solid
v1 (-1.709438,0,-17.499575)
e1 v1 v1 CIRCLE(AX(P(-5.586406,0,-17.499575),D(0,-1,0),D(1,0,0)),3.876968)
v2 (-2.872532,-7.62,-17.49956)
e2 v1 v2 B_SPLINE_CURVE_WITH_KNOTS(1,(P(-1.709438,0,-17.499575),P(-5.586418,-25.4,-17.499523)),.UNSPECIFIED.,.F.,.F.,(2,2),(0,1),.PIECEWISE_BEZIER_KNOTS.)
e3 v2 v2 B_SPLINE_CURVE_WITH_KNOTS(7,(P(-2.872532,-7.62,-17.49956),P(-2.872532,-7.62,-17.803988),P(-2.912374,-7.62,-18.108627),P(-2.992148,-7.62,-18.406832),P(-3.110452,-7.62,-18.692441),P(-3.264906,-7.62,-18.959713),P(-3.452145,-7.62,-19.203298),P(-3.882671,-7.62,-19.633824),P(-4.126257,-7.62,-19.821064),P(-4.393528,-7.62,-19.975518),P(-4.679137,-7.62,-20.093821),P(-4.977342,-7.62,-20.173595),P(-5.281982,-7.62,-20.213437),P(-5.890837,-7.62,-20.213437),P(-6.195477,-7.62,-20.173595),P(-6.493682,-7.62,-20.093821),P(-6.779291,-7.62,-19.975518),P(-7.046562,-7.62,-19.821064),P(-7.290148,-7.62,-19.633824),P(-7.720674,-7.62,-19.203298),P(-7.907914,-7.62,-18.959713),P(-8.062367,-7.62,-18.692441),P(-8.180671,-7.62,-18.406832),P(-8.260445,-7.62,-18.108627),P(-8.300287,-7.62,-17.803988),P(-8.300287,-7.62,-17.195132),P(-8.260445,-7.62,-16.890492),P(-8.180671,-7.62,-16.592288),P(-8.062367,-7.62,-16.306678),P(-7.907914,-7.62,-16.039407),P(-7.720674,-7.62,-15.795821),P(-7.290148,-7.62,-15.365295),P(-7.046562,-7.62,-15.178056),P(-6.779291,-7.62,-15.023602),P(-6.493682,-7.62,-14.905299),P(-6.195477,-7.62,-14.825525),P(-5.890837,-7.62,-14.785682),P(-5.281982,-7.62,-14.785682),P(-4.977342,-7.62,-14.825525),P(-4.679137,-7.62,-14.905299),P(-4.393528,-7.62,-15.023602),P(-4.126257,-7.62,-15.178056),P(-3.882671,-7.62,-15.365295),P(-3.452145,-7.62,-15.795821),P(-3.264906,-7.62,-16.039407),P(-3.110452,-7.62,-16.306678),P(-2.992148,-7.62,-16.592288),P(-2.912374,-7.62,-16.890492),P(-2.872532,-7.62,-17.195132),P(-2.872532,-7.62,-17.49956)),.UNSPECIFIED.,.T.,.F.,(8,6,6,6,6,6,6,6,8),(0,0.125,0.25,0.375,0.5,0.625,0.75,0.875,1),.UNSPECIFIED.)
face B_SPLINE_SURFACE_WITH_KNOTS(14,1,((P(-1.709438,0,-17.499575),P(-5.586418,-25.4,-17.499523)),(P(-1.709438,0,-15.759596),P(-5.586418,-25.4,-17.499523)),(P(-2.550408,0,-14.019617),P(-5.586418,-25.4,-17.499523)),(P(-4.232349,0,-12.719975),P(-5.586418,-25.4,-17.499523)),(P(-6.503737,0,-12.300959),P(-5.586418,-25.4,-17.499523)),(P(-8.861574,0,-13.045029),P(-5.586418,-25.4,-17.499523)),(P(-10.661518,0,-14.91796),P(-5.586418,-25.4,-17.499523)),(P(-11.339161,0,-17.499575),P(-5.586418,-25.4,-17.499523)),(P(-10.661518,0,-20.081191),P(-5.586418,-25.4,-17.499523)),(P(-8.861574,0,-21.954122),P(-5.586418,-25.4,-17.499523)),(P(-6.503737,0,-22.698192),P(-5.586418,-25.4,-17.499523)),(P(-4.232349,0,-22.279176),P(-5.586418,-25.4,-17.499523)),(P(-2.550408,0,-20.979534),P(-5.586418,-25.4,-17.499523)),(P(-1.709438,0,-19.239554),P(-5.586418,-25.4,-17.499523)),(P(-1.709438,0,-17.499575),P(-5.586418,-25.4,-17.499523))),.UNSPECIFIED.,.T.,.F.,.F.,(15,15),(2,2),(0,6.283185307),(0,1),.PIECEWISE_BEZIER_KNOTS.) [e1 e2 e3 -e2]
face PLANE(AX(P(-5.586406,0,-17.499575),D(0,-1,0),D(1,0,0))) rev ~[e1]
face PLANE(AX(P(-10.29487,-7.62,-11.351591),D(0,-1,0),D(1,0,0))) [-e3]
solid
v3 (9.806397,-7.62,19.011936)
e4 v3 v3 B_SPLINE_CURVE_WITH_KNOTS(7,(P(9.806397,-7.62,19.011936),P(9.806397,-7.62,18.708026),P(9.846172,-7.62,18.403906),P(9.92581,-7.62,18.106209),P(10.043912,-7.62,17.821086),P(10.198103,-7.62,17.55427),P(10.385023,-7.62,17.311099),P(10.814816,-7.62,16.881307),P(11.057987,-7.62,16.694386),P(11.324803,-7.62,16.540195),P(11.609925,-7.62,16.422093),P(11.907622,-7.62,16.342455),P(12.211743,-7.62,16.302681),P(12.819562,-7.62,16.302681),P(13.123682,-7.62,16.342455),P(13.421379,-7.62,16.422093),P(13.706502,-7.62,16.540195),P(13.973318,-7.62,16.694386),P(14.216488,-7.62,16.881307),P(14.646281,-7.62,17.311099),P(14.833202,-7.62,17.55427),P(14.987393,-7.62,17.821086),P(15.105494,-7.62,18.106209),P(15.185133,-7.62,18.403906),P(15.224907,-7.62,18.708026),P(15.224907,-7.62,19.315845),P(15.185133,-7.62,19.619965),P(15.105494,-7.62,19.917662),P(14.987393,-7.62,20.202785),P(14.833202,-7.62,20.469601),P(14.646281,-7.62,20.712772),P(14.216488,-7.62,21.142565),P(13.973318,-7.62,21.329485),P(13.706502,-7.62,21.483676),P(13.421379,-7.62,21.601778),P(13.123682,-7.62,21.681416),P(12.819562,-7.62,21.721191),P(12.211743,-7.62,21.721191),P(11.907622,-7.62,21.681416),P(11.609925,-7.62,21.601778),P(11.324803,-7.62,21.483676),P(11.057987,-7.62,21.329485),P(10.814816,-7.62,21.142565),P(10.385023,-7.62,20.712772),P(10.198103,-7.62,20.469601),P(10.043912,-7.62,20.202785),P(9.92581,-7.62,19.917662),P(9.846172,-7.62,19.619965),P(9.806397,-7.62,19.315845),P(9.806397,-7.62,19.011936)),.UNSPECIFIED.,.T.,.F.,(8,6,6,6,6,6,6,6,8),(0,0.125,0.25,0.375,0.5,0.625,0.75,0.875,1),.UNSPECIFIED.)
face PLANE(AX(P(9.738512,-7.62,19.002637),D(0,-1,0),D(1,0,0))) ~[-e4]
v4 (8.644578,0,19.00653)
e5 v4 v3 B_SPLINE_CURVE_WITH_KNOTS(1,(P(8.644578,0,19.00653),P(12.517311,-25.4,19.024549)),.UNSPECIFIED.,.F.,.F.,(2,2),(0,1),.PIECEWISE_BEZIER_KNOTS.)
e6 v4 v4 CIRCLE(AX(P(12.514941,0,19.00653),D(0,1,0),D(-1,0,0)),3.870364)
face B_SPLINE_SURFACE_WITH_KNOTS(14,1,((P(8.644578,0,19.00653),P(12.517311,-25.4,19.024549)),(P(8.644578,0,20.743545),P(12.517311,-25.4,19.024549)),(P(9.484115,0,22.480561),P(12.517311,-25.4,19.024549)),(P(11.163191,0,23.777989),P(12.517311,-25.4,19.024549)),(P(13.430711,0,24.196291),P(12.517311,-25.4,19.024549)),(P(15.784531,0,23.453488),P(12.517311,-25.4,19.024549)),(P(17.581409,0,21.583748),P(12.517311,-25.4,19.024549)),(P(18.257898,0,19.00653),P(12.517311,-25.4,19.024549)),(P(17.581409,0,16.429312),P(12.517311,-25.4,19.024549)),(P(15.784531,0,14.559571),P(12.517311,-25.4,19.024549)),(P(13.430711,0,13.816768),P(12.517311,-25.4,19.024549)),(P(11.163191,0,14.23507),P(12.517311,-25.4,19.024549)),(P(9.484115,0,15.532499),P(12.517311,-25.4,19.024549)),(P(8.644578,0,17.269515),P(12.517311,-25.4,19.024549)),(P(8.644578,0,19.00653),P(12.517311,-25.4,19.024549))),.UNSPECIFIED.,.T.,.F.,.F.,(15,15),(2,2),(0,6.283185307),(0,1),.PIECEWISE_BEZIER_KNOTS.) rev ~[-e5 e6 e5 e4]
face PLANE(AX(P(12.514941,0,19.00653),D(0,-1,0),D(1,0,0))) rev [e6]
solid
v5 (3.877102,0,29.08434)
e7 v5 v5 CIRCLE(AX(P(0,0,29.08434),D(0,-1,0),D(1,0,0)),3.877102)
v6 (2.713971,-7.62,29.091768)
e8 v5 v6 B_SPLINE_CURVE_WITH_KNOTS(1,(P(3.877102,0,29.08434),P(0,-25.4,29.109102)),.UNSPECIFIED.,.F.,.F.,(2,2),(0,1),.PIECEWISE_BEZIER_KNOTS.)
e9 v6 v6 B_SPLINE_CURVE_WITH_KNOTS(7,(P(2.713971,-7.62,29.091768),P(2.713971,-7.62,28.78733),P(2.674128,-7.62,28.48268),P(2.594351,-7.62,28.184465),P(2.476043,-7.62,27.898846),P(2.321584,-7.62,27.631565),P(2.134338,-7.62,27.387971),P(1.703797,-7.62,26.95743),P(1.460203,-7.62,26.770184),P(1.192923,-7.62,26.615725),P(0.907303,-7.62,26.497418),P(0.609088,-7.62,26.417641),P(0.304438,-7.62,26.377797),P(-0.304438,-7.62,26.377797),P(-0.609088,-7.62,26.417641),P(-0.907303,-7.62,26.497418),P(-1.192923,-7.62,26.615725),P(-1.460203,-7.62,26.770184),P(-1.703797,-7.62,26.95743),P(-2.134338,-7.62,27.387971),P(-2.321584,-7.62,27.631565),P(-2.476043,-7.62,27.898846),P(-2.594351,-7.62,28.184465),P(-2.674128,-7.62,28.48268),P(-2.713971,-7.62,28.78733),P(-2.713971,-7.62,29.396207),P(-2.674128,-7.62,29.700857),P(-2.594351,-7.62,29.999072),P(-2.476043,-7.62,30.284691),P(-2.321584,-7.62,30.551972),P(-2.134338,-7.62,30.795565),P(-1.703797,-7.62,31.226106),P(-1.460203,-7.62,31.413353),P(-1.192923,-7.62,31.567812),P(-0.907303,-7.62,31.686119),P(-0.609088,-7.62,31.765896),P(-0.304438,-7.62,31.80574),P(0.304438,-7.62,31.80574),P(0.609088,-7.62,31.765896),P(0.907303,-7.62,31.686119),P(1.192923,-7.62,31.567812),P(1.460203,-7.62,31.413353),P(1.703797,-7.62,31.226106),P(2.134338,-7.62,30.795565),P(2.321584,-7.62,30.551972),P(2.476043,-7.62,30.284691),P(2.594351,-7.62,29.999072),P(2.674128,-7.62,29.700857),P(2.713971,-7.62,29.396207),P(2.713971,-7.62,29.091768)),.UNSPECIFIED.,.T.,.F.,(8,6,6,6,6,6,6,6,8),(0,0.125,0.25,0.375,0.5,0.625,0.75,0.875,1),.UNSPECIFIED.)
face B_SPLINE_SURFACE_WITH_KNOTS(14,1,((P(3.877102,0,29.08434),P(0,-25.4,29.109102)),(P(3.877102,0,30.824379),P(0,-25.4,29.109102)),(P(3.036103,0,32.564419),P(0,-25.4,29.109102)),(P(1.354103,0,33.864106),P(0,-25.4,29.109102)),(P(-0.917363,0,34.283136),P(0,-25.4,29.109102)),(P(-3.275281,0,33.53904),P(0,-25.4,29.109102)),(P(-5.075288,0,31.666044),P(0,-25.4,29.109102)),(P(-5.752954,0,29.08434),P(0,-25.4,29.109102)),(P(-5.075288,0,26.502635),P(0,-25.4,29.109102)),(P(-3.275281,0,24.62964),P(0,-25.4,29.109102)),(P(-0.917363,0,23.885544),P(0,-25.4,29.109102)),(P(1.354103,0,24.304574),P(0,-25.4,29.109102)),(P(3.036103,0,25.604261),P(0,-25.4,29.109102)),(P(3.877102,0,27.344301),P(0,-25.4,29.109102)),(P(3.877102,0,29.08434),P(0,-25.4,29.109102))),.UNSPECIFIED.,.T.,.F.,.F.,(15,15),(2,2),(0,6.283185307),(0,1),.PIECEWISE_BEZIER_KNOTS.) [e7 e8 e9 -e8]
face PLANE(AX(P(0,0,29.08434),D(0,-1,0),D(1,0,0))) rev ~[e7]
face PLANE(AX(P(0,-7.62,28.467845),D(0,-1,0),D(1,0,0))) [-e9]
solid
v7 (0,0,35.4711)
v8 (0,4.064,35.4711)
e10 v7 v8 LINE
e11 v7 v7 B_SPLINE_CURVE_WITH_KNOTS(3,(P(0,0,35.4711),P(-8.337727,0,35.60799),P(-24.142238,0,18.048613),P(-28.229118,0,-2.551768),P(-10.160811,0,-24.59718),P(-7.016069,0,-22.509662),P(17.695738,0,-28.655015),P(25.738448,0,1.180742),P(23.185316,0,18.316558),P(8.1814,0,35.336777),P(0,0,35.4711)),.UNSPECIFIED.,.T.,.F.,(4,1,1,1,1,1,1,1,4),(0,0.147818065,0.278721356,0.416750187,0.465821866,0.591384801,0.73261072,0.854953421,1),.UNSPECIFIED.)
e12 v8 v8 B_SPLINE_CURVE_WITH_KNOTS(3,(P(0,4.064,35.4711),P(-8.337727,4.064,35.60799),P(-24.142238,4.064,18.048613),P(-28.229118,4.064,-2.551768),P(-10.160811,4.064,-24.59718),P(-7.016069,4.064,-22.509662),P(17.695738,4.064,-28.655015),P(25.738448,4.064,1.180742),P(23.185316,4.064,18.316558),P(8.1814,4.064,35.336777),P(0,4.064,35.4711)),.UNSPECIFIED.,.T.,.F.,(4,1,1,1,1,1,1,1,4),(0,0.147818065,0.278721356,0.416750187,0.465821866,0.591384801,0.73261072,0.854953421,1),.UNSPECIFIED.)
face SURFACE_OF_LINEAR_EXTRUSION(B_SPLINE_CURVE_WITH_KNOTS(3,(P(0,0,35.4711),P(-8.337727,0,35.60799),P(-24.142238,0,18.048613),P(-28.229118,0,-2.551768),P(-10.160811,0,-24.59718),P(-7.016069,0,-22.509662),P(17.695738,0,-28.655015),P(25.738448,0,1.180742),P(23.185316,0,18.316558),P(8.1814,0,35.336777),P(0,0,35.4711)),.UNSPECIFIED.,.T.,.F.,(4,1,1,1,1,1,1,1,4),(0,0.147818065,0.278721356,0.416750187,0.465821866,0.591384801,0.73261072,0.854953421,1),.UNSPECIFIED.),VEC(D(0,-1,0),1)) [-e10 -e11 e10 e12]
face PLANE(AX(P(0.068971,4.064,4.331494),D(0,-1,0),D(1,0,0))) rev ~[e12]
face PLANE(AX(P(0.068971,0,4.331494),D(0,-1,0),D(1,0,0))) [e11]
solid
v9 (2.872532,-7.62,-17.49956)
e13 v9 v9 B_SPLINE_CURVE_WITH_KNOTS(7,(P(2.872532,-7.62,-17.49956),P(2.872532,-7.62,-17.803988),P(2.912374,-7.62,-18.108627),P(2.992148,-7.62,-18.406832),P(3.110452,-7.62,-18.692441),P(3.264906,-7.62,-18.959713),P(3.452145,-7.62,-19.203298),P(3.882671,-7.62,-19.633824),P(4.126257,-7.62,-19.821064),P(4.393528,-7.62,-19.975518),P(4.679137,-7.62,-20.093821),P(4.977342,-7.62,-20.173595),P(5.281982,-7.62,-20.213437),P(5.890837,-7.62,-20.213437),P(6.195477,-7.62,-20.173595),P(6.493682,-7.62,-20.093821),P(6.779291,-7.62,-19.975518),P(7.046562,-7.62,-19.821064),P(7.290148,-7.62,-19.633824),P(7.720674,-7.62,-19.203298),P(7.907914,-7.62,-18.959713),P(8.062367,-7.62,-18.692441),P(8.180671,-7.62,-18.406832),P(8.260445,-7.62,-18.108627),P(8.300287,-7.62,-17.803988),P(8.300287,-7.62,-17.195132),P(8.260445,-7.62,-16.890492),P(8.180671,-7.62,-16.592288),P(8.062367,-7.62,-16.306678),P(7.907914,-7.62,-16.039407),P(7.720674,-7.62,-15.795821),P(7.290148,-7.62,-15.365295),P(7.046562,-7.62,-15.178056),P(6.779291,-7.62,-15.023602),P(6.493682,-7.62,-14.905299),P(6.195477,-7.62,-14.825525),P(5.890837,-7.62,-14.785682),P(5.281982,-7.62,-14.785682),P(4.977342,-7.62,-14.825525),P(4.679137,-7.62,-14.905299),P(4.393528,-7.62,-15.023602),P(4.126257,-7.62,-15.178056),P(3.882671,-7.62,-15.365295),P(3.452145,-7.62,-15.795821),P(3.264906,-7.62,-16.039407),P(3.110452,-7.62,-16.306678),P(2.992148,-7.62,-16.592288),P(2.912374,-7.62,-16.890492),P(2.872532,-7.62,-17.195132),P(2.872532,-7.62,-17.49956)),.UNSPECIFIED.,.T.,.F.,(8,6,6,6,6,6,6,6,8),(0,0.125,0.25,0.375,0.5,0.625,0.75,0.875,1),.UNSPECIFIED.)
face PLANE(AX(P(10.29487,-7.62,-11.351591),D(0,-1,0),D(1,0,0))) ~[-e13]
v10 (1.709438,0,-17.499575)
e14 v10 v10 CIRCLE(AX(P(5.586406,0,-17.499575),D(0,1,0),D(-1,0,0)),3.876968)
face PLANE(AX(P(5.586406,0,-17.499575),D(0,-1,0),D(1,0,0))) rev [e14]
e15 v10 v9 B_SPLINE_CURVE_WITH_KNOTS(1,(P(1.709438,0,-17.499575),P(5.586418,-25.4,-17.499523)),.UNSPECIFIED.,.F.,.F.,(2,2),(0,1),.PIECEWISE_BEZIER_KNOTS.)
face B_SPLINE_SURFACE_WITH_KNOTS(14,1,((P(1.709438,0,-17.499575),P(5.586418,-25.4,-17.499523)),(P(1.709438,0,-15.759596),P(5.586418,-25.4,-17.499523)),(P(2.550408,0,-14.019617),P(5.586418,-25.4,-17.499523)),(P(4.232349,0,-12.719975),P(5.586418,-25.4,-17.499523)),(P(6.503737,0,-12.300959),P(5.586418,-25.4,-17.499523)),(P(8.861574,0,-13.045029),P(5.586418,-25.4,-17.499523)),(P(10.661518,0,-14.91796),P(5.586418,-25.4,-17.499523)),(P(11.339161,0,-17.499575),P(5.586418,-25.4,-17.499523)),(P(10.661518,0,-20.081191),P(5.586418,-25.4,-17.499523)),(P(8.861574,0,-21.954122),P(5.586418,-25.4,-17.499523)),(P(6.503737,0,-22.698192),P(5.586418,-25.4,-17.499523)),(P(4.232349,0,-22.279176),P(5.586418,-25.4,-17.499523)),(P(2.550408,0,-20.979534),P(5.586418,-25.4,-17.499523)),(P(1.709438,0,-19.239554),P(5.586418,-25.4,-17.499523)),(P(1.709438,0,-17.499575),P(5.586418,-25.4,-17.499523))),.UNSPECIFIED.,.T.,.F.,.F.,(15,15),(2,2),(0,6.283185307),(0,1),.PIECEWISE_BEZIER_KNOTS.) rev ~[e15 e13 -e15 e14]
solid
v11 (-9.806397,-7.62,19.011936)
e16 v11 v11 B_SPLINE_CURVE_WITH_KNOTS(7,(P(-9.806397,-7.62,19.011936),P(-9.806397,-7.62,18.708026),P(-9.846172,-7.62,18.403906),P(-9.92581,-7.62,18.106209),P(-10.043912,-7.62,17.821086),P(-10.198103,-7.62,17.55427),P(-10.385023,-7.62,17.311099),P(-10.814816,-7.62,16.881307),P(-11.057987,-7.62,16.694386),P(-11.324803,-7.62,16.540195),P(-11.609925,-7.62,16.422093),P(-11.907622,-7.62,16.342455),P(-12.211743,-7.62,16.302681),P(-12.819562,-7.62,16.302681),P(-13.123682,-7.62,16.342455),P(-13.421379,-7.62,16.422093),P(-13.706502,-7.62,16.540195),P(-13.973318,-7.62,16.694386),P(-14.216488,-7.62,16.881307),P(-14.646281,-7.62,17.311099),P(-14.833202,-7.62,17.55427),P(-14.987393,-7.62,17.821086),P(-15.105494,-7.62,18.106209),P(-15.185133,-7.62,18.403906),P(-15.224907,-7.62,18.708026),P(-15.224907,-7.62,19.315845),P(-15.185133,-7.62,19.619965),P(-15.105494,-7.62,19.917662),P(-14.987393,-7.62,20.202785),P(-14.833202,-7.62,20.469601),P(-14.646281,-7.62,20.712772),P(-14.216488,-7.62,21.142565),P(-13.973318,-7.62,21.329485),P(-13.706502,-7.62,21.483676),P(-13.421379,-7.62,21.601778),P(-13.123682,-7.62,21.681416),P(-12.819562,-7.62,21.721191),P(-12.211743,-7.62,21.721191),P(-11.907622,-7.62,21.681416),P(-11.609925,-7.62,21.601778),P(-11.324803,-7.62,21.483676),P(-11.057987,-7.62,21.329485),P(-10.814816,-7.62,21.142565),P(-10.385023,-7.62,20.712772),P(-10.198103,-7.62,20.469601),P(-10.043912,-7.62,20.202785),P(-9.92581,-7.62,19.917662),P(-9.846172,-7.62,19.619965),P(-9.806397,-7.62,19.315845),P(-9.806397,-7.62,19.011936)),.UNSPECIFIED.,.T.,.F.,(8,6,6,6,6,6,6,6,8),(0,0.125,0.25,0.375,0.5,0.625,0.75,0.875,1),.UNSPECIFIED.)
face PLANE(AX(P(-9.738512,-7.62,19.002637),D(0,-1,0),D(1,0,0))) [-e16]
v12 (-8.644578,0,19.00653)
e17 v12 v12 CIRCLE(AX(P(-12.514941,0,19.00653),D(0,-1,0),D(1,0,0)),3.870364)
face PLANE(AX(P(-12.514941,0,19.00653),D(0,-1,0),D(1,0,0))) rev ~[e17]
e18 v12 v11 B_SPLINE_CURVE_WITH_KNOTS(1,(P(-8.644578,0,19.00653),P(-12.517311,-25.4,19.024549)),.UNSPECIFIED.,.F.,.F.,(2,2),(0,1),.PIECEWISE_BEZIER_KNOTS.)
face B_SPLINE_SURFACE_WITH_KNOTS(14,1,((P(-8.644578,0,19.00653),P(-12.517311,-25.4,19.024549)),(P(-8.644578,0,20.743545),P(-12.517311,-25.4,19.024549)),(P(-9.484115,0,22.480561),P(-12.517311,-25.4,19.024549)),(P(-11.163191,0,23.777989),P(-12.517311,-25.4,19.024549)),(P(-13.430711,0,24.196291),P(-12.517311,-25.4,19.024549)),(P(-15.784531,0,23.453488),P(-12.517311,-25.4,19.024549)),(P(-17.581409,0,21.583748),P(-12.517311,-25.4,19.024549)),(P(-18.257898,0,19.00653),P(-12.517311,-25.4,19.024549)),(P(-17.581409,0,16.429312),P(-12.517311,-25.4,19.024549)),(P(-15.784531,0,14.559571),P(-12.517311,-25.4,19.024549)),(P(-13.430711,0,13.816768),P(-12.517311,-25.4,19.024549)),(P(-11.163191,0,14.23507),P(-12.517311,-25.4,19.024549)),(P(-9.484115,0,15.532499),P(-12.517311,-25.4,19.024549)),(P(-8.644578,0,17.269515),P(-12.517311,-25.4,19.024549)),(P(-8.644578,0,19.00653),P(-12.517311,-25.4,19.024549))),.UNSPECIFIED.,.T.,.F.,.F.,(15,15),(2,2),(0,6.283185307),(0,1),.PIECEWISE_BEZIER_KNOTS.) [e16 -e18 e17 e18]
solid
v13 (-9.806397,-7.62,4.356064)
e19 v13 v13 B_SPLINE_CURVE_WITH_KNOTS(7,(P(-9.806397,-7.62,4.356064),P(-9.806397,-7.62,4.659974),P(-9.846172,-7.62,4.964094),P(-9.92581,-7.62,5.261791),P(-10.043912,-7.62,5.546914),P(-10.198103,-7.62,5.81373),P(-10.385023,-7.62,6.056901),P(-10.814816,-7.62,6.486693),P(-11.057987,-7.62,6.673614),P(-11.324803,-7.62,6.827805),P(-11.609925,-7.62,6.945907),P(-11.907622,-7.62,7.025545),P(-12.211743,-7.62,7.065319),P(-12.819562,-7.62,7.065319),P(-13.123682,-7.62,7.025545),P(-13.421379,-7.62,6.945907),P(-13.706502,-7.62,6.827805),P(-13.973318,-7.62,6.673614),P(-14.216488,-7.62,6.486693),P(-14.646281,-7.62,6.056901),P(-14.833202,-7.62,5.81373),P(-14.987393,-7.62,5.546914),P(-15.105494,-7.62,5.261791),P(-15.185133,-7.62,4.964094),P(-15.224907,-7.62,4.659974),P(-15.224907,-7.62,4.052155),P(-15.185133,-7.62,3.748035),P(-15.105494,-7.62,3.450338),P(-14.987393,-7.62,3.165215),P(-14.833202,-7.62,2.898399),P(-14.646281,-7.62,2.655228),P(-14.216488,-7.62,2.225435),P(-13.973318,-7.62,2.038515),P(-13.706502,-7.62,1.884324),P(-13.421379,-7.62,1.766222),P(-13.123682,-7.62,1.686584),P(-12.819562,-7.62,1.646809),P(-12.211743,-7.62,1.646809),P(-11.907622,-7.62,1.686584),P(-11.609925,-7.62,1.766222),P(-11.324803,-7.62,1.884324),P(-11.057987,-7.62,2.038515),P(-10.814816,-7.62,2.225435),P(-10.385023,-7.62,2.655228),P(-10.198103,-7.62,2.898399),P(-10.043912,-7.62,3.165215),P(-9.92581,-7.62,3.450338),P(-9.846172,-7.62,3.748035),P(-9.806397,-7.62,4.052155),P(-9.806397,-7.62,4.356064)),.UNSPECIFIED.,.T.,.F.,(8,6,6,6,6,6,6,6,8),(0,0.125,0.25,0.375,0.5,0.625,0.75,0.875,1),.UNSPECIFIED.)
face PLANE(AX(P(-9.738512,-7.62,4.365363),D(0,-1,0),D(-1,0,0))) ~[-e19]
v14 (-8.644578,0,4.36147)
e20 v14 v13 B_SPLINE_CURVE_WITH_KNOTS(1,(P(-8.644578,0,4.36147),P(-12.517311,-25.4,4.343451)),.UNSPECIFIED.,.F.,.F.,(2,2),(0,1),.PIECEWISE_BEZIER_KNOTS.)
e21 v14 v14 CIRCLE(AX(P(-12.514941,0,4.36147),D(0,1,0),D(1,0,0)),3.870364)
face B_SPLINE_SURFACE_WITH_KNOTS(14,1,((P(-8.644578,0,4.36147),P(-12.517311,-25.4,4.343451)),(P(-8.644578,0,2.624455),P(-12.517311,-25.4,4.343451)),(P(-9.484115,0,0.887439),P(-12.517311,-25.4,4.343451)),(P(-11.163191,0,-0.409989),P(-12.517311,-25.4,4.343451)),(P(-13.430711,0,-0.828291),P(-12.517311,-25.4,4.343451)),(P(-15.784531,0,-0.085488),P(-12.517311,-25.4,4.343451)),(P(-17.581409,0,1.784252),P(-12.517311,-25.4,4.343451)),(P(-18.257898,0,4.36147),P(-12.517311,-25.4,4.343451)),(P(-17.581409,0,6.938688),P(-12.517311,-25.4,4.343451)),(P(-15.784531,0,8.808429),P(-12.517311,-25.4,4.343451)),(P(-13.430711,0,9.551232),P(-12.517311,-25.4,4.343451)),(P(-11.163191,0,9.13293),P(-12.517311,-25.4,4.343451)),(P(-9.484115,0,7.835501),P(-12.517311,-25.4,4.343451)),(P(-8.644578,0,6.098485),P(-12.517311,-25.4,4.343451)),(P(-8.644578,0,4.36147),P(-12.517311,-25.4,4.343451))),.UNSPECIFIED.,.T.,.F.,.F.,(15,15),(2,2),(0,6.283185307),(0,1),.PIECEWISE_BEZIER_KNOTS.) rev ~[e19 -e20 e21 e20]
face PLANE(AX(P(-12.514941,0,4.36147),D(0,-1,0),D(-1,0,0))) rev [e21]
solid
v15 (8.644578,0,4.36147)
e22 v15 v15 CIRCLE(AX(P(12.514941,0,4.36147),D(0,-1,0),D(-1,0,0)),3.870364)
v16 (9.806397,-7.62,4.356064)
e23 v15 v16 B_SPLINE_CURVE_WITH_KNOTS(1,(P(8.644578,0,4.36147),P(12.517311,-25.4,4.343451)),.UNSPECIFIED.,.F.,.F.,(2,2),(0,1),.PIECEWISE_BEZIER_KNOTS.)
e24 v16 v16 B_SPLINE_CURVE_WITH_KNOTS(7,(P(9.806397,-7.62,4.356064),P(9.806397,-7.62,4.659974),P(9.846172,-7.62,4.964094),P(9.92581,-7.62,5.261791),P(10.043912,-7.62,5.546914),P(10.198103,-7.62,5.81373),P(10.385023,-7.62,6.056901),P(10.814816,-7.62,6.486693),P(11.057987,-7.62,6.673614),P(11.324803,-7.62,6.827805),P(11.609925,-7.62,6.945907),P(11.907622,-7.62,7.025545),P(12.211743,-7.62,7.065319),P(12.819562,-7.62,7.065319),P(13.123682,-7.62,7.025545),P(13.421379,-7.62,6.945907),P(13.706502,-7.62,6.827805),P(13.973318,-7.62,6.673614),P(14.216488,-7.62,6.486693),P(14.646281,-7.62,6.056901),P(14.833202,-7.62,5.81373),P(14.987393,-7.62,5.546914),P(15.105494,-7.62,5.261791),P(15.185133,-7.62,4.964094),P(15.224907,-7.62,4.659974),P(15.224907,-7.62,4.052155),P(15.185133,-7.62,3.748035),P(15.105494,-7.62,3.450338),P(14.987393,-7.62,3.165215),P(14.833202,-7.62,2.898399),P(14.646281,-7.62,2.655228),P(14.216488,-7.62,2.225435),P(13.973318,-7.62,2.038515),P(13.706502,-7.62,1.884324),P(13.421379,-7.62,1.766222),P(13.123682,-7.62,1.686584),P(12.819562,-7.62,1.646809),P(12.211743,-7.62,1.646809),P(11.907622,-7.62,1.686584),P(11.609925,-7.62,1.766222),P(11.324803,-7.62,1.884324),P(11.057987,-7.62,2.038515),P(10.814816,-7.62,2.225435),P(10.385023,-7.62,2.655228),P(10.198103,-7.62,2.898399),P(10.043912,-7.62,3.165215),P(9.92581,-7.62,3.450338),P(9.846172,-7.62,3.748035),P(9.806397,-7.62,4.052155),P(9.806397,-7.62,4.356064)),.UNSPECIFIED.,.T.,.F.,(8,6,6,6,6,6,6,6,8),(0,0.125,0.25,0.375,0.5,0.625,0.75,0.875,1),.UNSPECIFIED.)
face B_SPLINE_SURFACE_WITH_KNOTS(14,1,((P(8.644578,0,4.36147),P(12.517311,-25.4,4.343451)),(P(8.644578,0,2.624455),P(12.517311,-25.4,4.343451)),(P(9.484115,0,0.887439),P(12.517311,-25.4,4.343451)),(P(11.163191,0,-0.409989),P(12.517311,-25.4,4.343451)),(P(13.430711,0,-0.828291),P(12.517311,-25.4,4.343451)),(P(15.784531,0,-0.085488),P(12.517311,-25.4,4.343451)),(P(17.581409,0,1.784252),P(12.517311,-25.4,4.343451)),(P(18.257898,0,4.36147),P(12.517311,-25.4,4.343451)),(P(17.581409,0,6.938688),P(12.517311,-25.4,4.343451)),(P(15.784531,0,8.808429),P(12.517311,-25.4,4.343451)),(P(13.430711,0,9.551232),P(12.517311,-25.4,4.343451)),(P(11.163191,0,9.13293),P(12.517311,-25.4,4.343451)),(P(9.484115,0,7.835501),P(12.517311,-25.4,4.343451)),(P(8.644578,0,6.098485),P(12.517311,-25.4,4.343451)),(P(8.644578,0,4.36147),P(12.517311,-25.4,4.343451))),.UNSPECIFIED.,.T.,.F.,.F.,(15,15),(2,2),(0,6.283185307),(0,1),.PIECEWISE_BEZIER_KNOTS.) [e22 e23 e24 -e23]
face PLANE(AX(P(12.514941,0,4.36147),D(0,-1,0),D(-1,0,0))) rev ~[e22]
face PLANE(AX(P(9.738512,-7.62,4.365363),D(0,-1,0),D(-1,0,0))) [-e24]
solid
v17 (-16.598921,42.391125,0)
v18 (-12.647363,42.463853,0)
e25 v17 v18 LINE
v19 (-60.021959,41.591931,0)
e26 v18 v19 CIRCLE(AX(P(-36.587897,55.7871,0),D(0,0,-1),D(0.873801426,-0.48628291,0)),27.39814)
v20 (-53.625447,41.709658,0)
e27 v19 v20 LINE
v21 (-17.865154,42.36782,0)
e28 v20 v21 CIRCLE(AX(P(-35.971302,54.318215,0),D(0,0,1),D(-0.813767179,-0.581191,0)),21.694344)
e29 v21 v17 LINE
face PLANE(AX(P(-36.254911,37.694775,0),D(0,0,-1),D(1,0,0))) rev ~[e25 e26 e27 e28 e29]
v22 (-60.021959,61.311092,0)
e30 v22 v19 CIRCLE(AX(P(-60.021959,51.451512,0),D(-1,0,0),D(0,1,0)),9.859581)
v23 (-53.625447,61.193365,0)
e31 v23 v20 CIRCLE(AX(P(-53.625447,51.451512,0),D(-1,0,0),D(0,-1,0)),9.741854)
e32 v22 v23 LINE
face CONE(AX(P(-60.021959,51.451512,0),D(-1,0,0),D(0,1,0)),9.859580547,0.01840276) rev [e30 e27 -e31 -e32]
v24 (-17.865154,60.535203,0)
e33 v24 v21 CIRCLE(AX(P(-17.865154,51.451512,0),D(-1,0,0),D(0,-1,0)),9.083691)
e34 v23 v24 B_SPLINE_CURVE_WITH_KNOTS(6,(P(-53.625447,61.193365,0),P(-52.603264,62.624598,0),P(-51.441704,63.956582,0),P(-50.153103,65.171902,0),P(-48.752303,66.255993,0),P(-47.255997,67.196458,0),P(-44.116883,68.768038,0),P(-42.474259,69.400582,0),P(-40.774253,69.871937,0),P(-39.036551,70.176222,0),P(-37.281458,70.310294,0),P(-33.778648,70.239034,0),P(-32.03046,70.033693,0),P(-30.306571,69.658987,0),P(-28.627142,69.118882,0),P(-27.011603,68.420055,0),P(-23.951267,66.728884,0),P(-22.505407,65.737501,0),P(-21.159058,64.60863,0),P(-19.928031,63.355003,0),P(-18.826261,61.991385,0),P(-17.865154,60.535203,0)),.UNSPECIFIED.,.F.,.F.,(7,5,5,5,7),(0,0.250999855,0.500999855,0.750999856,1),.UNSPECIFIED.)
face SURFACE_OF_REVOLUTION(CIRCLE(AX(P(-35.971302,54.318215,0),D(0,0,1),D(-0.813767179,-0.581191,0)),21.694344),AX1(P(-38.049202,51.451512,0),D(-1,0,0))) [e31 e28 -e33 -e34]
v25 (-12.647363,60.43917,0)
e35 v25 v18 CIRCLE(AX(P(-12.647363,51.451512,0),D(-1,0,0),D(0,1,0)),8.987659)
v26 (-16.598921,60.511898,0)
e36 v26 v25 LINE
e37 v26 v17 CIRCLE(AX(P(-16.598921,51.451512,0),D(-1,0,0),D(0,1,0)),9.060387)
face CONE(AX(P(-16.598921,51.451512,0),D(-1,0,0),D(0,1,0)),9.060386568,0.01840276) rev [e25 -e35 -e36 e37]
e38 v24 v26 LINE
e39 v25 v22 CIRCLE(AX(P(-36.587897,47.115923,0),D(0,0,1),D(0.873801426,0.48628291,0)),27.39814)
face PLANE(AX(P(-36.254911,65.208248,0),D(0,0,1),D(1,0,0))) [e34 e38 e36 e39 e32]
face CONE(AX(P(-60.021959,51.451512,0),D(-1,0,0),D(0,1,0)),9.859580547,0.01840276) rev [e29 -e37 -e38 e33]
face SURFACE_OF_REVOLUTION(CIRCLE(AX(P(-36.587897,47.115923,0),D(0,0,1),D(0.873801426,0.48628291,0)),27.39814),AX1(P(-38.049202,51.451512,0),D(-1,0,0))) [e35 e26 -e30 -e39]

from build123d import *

# Parameters (mm, degrees)
F0_R      = 3.8771015689
F5_R      = 5.6983248569
F6_R      = 3.6635547169
F8_R      = 3.8703638435
F11_R     = 7.2019842089
F12_R     = 56.8187209303
F17_R     = 3.8769676926
F20_R     = 53.0821487258
F21_R     = 4.5415408067
F25_DEPTH = 4.064
F28_ANGLE = 180


with BuildPart() as f3:
    # F0 (on Front) → F3 section 0
    with BuildSketch(Plane.XZ, mode=Mode.PRIVATE) as f3_s0:
        with Locations((0, 29.0843397379)):
            Circle(F0_R)
    loft([f3_s0.sketch, Vertex(0, -25.4, 29.1091017425)])

    # F5 (on offset) → F7 section 0
    with BuildSketch(Plane.XZ.offset(7.62)):
        with Locations((0, 28.4678451717)):
            Circle(F5_R)
    # F6 (on offset) → F7 section 1
    with BuildSketch(Plane.XZ.offset(25.4)):
        with Locations((0, 29.0928874165)):
            Circle(F6_R)
    loft(mode=Mode.SUBTRACT)


with BuildPart() as f10:
    # F8 (on Front) → F10 section 0
    with BuildSketch(Plane.XZ, mode=Mode.PRIVATE) as f10_s0:
        with Locations((-12.5149413943, 19.0065298229)):
            Circle(F8_R)
    loft([f10_s0.sketch, Vertex(-12.517310679, -25.4, 19.0245490521)])

    # F11 (on offset) → F13 section 0
    with BuildSketch(Plane.XZ.offset(7.62)):
        with Locations((-9.7385119116, 19.0026373996)):
            Circle(F11_R)
    # F12 (on offset) → F13 section 1
    with BuildSketch(Plane.XZ.offset(25.4)):
        with Locations((-23.6887745559, 25.0486060977)):
            Circle(F12_R)
    loft(mode=Mode.SUBTRACT)


with BuildPart() as f14_1:
    # F14: instance of F10
    add(f10.part.mirror(Plane.YZ))


with BuildPart() as f16_1:
    # F16: instance of F10
    add(f10.part.mirror(Plane.XY.offset(11.684)))


with BuildPart() as f16_2:
    # F16: instance of F14_1
    add(f14_1.part.mirror(Plane.XY.offset(11.684)))


with BuildPart() as f19:
    # F17 (on Front) → F19 section 0
    with BuildSketch(Plane.XZ, mode=Mode.PRIVATE) as f19_s0:
        with Locations((-5.5864057504, -17.4995753914)):
            Circle(F17_R)
    loft([f19_s0.sketch, Vertex(-5.5864183232, -25.4, -17.4995232373)])

    # F20 (on offset) → F22 section 0
    with BuildSketch(Plane.XZ.offset(7.62)):
        with Locations((-10.2948704734, -11.3515909761)):
            Circle(F20_R)
    # F21 (on offset) → F22 section 1
    with BuildSketch(Plane.XZ.offset(25.4)):
        with Locations((-5.5690594018, -17.5002664328)):
            Circle(F21_R)
    loft(mode=Mode.SUBTRACT)


with BuildPart() as f23_1:
    # F23: instance of F19
    add(f19.part.mirror(Plane.YZ))


with BuildPart() as f25:
    # F24 (on Front) → F25 (new body)
    with BuildSketch(Plane.XZ):
        with BuildLine():
            add(Edge.make_bspline(
                [(0, 35.4711003602), (-8.3377268177, 35.6079903839), (-24.1422378847, 18.0486125422), (-28.2291177434, -2.5517682042), (-10.1608107669, -24.5971800029), (-7.016069321, -22.5096620341), (17.695737715, -28.6550145381), (25.7384476983, 1.1807424816), (23.1853158982, 18.3165576298), (8.1814002308, 35.3367769293), (0, 35.4711003602)],
                knots=[0, 0, 0, 0, 0.1478180646, 0.2787213559, 0.4167501874, 0.4658218658, 0.5913848015, 0.7326107204, 0.8549534214, 1, 1, 1, 1], degree=3))
        make_face()
    extrude(amount=-F25_DEPTH)


with BuildPart() as f28:
    # F27 (on Top) → F28 (revolve)
    with BuildSketch(Plane.XY):
        with BuildLine():
            ThreePointArc((-12.6473630132, 60.4391704599), (-36.0837241785, 74.5094241889), (-60.0219592452, 61.3110922277))
            Line((-60.0219592452, 61.3110922277), (-16.5989212692, 60.5118982494))
            Line((-16.5989212692, 60.5118982494), (-12.6473630132, 60.4391704599))
        make_face()
    revolve(axis=Axis((-38.0492019467, 51.4515116811, 0), (-1, 0, 0)), revolution_arc=F28_ANGLE)

    # F29 (on face) → F30 (revolve, cut)
    with BuildSketch(Plane.XY):
        with BuildLine():
            Line((-17.8651539403, 42.3678203056), (-53.6254472387, 41.7096579015))
            ThreePointArc((-53.6254472387, 41.7096579015), (-35.5720890855, 32.6275449227), (-17.8651539403, 42.3678203056))
        make_face()
    revolve(axis=Axis((-38.0492019467, 51.4515116811, 0), (-1, 0, 0)), mode=Mode.SUBTRACT)


solid = Compound([f3.part, f10.part, f14_1.part, f16_1.part, f16_2.part, f19.part, f23_1.part, f25.part, f28.part])
